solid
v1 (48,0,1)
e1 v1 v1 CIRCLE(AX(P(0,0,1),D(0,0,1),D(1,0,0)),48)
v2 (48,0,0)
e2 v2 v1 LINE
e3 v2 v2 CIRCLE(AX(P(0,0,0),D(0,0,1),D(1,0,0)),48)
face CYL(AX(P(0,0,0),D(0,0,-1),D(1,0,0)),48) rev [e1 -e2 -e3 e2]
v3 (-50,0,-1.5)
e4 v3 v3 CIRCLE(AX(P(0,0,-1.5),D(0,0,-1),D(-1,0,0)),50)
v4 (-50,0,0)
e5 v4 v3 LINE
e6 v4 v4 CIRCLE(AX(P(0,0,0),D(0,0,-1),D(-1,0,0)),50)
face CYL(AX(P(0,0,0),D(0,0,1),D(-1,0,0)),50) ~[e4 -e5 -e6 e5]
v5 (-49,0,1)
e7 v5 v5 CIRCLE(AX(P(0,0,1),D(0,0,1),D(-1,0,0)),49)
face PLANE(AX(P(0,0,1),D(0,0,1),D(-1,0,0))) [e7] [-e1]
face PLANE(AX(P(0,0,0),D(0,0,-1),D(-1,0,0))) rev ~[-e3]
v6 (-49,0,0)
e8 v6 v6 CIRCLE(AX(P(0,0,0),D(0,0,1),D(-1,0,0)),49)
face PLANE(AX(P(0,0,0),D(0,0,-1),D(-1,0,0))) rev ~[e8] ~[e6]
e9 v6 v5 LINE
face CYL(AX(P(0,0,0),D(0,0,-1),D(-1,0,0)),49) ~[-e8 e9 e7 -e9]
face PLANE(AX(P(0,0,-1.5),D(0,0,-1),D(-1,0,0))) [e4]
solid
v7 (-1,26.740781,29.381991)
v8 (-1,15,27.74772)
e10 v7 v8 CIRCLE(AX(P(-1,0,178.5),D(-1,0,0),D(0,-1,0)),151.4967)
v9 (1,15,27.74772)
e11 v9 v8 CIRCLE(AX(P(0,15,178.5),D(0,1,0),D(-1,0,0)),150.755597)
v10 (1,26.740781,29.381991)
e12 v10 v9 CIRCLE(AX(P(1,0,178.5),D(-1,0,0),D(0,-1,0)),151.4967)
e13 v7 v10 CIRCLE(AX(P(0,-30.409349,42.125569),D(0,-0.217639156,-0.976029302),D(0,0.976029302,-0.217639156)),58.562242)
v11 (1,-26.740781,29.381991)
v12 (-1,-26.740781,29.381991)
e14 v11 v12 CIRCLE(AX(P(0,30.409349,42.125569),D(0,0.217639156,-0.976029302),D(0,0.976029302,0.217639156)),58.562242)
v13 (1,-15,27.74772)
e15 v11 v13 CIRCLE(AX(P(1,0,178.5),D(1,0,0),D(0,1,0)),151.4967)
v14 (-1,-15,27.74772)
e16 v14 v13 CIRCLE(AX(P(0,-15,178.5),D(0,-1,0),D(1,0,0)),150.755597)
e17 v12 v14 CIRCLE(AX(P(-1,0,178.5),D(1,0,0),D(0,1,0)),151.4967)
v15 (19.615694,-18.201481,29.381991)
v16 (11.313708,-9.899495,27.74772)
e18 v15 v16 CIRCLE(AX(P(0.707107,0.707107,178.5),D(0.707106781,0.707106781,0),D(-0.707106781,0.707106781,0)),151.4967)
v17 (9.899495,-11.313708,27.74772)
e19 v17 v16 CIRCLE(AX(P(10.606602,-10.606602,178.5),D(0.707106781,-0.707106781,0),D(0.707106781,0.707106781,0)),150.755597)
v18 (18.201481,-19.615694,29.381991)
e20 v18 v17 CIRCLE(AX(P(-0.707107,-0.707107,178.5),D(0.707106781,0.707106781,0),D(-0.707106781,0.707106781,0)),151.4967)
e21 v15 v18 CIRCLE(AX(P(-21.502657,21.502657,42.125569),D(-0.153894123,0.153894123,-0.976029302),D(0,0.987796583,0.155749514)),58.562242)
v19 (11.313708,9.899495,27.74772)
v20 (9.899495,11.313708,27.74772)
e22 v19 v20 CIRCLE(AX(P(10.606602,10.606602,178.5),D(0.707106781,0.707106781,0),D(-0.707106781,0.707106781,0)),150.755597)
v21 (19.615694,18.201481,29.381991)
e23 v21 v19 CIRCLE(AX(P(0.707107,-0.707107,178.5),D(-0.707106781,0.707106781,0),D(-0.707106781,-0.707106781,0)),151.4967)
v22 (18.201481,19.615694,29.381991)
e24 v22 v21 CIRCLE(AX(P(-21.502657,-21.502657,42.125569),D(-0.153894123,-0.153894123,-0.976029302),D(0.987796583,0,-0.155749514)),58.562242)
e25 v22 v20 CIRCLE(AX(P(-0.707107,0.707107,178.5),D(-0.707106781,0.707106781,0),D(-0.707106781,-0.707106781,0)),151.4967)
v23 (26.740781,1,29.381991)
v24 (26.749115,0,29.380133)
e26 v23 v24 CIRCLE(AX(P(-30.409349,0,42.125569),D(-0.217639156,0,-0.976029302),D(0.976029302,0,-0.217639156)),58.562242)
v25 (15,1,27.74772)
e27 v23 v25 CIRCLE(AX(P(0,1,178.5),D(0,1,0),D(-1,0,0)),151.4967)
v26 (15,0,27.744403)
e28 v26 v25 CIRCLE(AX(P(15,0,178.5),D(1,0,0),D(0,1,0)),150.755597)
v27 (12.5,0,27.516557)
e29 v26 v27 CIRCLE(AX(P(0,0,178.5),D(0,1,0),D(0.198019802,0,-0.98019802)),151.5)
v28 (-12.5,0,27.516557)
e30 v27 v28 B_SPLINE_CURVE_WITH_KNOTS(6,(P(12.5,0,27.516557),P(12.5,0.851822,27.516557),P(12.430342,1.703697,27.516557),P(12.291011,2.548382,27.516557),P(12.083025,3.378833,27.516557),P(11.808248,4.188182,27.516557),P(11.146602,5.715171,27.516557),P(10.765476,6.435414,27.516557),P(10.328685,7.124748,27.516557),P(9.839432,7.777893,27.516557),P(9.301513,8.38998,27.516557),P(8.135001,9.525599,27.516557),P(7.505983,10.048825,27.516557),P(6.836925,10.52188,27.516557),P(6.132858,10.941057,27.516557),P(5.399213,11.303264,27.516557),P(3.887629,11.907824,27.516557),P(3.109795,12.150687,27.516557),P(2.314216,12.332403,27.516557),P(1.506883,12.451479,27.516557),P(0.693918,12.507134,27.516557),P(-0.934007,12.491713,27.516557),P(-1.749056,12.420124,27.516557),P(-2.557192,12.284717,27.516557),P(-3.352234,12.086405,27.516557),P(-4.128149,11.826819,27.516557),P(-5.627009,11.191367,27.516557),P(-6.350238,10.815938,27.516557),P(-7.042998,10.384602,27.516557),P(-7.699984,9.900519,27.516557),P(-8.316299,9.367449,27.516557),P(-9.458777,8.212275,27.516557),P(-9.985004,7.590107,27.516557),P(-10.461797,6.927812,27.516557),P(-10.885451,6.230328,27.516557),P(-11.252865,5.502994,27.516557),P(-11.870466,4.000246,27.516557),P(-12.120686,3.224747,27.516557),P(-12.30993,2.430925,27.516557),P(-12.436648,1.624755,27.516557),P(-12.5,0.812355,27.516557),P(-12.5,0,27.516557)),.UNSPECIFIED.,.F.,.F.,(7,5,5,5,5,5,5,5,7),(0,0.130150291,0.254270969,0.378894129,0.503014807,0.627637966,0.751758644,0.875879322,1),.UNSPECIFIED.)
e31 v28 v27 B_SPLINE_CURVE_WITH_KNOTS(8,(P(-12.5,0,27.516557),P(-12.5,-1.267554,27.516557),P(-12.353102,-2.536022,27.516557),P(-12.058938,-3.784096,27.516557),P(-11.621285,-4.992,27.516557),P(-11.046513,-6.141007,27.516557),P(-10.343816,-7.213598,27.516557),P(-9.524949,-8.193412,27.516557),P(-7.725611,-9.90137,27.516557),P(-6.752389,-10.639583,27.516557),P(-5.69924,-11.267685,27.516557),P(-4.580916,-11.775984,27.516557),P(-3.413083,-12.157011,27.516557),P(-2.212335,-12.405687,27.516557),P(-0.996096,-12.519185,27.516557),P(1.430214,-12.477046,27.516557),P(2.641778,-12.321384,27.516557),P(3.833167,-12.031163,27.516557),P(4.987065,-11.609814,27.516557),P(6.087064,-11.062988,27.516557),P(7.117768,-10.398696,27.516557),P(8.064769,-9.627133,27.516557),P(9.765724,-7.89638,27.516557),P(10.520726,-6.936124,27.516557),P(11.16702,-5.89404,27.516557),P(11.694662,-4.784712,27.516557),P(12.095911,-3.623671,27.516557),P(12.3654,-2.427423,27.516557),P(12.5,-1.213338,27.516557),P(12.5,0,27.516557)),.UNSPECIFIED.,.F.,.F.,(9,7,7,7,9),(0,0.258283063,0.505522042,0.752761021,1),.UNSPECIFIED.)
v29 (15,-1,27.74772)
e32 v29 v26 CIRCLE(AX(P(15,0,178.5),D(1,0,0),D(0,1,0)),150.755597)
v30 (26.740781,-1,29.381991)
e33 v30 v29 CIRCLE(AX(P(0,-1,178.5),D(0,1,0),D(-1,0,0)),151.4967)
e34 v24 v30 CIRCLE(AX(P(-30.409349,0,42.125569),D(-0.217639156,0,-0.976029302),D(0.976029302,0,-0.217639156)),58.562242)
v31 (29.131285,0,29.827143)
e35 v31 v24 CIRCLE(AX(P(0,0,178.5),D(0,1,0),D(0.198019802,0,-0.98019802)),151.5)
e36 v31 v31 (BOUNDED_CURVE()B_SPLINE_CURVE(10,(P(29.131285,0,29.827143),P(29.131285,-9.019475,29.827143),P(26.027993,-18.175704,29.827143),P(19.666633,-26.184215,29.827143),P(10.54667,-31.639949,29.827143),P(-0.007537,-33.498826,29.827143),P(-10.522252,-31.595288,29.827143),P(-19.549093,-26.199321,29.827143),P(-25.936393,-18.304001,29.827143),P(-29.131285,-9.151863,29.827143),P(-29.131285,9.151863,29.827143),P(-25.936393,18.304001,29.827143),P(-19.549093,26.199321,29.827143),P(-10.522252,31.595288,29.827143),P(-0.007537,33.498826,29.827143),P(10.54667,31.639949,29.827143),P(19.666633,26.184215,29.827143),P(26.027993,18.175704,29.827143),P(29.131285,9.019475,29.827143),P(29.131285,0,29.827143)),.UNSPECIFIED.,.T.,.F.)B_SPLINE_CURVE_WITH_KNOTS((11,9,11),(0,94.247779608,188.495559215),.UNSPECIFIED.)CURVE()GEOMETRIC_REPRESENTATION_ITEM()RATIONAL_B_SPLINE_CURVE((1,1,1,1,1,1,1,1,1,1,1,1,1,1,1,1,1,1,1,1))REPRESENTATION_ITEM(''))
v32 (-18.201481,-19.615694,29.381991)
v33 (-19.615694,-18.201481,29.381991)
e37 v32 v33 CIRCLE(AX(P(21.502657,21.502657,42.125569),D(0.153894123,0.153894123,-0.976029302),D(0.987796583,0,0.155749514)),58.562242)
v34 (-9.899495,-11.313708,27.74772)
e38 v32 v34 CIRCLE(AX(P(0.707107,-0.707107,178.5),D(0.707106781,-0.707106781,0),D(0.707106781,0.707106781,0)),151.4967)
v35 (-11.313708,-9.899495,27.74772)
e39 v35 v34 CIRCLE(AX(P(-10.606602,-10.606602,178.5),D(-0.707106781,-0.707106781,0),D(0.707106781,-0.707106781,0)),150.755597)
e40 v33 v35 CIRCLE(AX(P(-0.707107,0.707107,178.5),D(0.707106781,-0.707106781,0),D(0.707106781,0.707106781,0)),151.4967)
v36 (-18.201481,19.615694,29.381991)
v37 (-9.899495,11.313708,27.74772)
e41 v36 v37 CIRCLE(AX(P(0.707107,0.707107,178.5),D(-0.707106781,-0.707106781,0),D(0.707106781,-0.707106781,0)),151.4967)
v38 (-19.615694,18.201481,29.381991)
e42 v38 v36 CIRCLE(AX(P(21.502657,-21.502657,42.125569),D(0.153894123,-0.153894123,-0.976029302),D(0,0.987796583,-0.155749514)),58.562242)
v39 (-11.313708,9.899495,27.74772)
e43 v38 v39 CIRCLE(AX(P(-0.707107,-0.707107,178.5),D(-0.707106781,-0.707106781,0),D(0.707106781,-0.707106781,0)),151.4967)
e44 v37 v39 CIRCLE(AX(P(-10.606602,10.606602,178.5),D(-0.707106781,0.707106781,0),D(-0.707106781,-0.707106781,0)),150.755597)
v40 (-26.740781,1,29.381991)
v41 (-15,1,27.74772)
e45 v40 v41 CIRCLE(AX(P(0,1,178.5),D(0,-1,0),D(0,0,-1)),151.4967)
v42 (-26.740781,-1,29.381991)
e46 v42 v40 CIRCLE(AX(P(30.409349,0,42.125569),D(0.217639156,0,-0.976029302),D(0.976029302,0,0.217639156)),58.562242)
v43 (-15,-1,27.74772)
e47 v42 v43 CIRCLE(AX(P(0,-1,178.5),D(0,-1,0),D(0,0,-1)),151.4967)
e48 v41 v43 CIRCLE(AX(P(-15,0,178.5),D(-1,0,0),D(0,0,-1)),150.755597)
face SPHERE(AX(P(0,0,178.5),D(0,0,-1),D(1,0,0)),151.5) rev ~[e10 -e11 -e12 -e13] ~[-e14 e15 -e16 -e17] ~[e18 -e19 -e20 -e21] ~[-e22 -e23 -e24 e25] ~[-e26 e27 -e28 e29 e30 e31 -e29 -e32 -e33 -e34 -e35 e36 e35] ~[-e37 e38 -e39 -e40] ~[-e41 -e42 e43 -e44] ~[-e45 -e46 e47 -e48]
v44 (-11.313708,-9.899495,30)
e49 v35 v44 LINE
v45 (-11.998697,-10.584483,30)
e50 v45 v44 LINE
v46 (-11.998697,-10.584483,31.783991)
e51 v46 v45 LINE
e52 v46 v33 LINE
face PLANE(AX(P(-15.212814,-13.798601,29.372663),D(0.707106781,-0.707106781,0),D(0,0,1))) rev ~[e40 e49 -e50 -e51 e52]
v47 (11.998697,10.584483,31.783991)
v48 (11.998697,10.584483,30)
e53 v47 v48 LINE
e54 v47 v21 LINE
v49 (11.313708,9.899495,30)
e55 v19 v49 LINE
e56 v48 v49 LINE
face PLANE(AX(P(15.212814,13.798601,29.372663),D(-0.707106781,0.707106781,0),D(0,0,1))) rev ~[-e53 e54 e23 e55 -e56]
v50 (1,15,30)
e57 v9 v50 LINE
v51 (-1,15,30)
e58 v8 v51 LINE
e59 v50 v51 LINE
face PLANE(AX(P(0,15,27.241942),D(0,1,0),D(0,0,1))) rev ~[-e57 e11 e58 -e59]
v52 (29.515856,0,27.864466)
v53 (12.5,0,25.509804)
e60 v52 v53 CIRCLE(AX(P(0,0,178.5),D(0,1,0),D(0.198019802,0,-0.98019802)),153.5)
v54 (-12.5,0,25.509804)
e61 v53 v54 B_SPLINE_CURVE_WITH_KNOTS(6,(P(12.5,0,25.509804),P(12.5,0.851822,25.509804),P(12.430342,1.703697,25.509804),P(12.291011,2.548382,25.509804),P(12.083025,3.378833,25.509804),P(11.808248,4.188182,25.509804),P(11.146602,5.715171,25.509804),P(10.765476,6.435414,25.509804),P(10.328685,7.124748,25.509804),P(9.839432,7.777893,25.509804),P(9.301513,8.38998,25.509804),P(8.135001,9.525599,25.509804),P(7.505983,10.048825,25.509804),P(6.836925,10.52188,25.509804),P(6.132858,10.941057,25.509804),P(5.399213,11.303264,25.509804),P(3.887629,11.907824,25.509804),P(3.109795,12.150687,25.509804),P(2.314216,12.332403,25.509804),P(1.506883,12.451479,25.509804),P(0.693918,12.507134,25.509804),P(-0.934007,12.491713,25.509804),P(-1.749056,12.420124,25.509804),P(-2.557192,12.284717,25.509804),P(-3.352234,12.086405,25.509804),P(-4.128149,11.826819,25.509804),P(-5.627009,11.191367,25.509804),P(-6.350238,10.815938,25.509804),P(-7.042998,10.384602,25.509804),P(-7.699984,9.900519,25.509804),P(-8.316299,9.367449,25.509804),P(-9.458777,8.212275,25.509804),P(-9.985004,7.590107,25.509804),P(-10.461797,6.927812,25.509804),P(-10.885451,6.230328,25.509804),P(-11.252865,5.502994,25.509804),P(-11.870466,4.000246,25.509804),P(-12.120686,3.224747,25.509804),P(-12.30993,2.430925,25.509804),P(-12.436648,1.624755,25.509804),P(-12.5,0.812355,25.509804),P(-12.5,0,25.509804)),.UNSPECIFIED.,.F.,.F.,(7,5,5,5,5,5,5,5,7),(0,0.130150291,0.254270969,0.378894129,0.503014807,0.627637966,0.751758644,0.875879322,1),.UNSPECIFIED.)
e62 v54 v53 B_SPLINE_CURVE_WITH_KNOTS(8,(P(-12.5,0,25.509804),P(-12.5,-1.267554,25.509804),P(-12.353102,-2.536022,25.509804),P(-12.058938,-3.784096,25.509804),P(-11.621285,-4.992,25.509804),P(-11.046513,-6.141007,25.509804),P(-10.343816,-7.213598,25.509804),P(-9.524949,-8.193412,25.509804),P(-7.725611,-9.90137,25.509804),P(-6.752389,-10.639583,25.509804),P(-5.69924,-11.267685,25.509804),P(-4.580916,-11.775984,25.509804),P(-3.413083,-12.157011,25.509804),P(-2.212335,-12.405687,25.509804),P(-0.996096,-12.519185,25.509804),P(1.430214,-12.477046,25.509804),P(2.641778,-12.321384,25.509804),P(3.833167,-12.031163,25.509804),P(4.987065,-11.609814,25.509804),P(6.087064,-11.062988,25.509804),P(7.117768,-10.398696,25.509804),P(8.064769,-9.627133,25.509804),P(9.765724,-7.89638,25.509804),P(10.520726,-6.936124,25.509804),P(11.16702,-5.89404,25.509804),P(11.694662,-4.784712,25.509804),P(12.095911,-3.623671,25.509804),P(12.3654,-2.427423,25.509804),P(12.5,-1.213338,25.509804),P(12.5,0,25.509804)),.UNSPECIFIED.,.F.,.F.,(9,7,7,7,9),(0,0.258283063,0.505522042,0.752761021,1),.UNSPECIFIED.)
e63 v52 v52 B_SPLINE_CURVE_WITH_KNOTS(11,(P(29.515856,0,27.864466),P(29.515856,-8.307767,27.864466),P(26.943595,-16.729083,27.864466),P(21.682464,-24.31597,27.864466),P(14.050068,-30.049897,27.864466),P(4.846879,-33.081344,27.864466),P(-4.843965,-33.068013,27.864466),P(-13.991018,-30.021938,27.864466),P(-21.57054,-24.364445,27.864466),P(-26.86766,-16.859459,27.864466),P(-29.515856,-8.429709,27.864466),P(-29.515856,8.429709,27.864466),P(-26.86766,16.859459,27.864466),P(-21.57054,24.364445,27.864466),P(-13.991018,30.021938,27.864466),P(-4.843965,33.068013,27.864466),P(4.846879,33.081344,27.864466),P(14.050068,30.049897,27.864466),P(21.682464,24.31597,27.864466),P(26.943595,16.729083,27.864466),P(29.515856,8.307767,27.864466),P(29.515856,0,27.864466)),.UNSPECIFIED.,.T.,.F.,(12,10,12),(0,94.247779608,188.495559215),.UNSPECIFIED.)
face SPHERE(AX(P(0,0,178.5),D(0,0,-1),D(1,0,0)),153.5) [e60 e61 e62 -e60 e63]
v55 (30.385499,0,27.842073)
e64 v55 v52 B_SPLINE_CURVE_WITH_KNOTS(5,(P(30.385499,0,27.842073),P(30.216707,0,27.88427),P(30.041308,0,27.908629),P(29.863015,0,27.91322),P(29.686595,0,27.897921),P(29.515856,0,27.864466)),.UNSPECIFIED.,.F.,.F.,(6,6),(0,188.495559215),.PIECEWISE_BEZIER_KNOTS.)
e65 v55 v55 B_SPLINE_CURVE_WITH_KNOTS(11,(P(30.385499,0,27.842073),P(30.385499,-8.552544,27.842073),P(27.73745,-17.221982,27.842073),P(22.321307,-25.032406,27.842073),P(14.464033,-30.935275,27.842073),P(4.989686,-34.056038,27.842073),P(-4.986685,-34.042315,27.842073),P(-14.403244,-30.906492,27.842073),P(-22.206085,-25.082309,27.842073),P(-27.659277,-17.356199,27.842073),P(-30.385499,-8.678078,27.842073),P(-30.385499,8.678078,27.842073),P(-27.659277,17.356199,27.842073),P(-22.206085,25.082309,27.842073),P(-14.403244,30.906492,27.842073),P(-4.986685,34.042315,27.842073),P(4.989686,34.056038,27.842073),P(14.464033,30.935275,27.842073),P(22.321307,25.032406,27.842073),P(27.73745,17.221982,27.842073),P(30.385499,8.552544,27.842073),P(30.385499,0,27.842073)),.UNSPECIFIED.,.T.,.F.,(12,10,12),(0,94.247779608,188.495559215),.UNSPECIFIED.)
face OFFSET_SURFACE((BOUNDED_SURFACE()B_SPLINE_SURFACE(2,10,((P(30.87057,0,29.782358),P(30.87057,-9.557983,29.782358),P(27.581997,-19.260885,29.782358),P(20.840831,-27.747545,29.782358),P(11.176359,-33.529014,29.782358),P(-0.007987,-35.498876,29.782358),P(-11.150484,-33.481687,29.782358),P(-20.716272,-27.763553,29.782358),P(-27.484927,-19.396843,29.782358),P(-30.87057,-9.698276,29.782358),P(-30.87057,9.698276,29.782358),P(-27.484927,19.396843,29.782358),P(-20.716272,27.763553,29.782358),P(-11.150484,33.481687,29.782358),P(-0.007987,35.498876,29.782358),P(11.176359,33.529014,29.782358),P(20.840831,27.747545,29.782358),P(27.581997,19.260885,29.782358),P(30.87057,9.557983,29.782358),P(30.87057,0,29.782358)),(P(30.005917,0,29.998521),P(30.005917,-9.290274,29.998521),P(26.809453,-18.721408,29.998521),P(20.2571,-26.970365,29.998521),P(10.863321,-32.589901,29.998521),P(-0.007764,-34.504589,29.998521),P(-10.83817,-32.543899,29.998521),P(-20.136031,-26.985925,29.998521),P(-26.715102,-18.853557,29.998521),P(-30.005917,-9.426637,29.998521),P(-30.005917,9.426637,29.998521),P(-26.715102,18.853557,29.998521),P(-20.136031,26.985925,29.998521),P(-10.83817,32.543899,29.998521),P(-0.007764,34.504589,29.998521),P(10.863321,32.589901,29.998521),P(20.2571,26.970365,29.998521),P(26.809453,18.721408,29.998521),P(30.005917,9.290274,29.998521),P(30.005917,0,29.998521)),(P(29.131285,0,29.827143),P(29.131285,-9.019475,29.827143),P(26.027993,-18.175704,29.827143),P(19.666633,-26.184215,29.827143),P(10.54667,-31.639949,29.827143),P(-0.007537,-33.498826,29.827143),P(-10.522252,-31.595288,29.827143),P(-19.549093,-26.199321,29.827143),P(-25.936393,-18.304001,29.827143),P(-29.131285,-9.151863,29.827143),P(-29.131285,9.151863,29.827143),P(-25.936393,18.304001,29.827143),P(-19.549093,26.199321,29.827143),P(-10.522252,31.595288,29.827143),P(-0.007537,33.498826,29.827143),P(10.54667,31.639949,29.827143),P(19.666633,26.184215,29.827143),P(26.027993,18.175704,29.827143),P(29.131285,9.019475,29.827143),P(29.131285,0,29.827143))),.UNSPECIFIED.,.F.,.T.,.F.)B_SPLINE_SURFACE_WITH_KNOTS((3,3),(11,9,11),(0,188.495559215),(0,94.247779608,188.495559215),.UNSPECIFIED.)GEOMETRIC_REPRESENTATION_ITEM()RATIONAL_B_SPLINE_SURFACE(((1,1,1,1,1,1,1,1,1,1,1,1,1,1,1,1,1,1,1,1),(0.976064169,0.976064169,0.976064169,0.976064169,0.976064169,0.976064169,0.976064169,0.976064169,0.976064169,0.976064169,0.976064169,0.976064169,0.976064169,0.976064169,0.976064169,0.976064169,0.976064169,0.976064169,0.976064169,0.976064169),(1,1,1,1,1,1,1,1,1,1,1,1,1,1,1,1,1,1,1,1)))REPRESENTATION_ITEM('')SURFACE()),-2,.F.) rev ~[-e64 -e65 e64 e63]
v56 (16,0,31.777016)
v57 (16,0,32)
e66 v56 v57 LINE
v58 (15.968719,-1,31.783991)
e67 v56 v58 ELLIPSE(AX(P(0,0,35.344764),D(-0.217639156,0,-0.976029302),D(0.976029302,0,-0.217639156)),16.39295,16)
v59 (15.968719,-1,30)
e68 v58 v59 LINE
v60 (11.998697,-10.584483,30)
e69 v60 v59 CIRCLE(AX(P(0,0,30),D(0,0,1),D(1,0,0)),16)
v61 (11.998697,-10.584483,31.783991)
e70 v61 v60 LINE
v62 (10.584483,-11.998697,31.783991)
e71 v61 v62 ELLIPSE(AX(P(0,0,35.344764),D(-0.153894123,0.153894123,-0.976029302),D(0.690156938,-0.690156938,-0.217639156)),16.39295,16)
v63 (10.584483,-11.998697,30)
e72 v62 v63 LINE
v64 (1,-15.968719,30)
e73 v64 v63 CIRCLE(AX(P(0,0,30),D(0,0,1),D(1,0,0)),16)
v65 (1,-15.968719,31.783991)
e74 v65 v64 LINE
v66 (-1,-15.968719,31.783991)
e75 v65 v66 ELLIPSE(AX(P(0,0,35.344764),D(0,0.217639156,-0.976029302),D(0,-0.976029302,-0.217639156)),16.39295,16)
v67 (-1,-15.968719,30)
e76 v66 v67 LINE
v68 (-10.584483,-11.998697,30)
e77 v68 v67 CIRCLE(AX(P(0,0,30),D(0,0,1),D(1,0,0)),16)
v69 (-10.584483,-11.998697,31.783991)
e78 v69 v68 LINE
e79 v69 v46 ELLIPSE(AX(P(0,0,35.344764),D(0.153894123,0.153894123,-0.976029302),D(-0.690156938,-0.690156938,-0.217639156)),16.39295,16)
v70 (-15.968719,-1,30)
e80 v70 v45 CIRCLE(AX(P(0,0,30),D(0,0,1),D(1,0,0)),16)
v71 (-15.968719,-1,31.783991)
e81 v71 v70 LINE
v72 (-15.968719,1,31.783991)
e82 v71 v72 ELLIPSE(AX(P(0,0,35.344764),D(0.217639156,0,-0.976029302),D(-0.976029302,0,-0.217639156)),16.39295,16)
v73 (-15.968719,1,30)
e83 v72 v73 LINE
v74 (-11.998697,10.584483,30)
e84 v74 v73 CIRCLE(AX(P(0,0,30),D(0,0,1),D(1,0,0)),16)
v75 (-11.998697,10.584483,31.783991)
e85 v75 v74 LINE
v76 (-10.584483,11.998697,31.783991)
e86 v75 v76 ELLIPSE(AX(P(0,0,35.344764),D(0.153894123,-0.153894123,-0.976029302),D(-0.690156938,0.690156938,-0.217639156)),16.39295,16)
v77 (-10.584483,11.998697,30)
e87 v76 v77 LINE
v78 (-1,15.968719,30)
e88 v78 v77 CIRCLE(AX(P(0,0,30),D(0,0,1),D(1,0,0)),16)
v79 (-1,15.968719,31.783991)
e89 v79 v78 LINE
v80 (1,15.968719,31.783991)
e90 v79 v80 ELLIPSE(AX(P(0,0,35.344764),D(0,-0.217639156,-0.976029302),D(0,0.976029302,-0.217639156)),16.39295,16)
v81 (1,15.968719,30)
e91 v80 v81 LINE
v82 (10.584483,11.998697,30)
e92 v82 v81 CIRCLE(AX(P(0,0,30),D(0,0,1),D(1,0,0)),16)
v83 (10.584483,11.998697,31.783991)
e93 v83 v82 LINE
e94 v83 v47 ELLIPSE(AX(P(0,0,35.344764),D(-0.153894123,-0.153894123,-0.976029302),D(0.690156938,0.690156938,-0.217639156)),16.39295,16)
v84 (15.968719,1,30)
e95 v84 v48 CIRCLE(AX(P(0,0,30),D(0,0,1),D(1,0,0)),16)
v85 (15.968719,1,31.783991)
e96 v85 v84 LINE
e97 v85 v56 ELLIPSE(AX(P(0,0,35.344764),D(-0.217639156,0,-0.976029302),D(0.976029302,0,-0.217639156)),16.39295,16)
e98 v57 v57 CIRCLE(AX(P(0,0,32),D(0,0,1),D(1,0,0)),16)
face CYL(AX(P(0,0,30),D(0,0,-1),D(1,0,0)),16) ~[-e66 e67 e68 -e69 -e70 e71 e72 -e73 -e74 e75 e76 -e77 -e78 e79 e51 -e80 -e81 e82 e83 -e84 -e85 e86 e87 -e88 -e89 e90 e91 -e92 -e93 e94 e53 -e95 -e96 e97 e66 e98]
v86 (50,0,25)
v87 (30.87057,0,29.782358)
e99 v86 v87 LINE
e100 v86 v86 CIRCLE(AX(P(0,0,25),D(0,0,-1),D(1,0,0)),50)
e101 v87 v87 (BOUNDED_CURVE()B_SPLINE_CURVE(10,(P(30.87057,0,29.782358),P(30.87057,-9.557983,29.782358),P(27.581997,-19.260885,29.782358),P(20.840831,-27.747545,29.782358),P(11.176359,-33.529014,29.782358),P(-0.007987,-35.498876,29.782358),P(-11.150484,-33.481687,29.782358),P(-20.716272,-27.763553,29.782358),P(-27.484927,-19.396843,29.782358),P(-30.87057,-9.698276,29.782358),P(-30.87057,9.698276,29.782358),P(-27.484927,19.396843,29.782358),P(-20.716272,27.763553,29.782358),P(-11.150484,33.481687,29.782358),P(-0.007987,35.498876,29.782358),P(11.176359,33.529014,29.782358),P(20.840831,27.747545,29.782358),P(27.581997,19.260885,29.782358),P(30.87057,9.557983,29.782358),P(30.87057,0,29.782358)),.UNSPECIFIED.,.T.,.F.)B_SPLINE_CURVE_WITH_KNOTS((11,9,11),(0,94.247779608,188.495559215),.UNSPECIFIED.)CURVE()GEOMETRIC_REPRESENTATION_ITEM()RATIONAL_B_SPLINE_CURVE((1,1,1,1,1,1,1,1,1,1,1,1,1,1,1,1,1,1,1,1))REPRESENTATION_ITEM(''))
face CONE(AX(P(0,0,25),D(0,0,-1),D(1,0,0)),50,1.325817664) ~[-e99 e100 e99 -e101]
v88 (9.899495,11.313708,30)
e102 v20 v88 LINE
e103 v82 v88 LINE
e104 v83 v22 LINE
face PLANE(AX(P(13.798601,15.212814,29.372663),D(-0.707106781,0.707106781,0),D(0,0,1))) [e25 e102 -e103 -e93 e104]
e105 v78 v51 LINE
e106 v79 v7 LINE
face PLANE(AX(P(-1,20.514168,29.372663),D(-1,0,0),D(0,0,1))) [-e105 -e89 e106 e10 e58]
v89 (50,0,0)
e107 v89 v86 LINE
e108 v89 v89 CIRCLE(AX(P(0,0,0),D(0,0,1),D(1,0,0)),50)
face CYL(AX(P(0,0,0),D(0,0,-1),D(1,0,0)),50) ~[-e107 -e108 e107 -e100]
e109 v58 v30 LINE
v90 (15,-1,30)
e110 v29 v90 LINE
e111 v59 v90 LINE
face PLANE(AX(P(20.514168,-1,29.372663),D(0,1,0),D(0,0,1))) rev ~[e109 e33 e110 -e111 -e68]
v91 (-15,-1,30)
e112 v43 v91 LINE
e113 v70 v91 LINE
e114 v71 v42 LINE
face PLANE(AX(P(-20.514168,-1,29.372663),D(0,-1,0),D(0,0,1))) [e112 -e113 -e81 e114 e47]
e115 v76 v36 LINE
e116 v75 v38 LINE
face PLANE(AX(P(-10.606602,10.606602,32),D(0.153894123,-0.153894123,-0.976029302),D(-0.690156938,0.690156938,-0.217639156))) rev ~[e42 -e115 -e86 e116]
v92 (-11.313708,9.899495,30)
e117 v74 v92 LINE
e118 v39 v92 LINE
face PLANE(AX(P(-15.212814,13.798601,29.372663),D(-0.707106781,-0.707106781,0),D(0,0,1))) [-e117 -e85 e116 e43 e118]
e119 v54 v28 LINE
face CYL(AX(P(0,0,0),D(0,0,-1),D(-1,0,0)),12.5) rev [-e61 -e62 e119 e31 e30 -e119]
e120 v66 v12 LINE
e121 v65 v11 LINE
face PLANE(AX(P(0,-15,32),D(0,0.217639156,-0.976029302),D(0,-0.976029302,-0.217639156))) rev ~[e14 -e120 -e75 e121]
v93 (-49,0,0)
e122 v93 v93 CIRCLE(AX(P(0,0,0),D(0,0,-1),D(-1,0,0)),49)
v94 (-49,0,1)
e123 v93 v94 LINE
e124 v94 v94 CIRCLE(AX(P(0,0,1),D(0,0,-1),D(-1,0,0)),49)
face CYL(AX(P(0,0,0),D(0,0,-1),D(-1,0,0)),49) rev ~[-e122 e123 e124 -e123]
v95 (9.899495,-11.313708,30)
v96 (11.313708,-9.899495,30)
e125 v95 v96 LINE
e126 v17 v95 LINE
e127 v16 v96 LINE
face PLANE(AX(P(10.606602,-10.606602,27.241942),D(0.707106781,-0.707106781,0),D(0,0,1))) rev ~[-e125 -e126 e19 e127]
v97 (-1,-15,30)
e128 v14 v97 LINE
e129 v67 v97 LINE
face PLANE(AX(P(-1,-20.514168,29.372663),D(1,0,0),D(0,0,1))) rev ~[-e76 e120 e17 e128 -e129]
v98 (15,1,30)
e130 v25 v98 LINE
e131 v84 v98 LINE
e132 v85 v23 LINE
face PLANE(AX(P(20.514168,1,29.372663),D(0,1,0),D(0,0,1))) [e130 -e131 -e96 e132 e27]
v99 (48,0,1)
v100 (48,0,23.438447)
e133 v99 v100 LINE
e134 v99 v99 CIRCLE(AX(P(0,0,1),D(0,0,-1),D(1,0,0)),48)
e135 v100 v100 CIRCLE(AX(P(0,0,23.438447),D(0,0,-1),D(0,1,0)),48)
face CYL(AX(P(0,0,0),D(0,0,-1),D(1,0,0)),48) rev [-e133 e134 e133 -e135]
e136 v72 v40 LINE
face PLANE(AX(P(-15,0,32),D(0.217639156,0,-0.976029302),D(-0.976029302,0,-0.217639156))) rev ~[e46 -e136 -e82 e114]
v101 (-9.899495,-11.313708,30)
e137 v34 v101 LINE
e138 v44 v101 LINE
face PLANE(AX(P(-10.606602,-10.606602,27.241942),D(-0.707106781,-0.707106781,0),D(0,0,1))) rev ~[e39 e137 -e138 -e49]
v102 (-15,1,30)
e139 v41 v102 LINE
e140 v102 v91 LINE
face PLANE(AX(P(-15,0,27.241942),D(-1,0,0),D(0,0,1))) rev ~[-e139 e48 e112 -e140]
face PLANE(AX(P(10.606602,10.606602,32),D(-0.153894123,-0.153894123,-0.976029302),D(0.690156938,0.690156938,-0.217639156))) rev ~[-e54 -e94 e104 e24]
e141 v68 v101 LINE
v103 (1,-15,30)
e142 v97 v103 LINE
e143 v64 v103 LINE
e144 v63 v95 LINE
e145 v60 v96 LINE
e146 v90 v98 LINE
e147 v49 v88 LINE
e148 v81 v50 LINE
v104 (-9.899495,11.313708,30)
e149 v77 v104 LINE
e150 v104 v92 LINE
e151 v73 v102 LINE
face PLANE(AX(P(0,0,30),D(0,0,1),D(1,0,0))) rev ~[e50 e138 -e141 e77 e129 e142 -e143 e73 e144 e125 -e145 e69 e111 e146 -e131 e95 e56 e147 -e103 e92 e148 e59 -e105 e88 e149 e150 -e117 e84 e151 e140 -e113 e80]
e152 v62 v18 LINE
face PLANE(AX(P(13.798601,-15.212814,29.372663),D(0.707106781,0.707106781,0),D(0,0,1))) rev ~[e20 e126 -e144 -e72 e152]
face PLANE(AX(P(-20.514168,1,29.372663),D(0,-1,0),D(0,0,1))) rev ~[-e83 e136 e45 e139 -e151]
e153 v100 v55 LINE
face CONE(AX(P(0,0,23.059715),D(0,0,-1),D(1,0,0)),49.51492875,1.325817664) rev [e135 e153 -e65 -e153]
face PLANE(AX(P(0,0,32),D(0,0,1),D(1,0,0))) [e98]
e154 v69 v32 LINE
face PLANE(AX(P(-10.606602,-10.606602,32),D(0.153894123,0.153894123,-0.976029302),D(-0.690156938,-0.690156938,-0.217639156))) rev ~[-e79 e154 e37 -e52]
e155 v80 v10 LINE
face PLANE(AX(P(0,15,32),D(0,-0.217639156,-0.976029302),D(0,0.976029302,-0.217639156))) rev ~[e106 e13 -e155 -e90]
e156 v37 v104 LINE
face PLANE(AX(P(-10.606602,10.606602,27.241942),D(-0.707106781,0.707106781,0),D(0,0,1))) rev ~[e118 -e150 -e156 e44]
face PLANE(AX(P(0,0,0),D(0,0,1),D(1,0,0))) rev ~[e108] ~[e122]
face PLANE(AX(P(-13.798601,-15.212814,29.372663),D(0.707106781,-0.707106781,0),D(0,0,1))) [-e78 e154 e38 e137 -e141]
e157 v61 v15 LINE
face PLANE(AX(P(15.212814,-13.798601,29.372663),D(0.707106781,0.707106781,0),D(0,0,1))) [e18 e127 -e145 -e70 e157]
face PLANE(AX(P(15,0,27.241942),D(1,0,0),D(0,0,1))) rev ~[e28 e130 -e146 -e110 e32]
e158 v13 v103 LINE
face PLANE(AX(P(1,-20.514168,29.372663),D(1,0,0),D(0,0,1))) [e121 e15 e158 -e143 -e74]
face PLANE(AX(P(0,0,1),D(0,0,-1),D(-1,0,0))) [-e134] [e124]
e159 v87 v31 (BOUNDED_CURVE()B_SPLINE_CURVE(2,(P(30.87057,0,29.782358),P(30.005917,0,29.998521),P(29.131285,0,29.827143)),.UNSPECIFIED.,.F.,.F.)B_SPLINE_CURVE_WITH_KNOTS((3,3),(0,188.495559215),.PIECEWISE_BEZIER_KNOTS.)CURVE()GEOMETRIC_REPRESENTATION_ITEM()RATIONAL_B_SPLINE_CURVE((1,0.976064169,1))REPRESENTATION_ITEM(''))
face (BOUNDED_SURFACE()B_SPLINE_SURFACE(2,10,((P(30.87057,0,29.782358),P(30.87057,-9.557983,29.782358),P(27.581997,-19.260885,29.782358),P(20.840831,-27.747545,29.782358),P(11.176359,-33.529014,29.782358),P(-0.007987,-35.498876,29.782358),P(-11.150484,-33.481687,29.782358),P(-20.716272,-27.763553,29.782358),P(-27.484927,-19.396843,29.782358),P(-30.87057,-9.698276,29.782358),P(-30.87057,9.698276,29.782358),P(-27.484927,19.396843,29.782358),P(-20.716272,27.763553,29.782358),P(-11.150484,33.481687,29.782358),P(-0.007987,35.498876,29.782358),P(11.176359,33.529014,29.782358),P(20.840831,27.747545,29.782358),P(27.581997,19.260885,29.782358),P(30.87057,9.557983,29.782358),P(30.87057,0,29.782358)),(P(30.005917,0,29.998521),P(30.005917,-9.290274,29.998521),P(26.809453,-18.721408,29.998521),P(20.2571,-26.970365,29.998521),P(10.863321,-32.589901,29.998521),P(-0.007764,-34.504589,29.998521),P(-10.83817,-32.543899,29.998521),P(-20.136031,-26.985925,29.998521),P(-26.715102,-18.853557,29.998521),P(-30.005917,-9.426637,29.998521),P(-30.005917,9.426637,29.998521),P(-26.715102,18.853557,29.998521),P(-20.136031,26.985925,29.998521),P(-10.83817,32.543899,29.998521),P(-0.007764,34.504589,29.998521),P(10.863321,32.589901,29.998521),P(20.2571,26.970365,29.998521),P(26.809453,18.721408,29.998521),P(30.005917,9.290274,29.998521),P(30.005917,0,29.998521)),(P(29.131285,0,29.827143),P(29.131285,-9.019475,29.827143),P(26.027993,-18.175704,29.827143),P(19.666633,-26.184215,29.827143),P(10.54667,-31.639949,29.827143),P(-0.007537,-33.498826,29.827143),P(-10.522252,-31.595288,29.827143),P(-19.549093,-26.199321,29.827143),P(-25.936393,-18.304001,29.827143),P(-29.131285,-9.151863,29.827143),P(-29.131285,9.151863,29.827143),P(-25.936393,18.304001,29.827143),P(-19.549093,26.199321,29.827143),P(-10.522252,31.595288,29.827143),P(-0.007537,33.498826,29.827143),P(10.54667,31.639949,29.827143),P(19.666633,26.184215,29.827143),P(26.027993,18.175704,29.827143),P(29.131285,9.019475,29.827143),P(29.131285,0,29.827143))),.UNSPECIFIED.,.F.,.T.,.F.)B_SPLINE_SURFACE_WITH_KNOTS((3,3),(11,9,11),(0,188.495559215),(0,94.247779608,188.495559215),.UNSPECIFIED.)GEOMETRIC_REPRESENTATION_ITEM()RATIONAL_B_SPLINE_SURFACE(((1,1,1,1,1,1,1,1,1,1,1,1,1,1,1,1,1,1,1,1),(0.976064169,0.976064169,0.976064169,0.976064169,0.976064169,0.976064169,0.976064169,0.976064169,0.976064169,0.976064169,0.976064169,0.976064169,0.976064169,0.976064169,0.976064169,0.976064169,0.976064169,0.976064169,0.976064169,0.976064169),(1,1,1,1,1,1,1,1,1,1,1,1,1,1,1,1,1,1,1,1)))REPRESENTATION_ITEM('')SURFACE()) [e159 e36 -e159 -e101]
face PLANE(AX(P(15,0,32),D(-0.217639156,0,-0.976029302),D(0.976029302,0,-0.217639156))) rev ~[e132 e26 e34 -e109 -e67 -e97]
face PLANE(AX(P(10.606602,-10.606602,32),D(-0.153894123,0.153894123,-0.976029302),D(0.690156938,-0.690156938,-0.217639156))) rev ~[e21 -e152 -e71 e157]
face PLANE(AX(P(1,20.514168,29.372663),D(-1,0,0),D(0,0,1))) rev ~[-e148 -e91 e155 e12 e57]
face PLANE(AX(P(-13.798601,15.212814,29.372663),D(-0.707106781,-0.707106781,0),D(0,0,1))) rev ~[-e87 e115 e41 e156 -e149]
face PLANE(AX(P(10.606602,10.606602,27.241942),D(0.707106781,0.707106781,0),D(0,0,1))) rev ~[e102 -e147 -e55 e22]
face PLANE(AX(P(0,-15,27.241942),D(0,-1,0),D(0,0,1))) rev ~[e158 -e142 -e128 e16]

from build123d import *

# Parameters (mm, degrees)
SKETCH1_R           = 50
BOSS_EXTRUDE1_DEPTH = 30
FILLET1_R           = 4
SHELL1_T            = -2
SKETCH3_R           = 12.5
CUT_EXTRUDE1_DEPTH  = 77.773152366
SKETCH4_R           = 15
BOSS_EXTRUDE2_DEPTH = 2
BOSS_EXTRUDE3_DEPTH = 1
CIRPATTERN1_COUNT   = 8
SKETCH7_R           = 49
SKETCH7_R_2         = 48
CUT_EXTRUDE2_DEPTH  = 1
SKETCH8_R           = 50
BOSS_EXTRUDE4_DEPTH = 1.5
SKETCH9_R           = 49
SKETCH9_R_2         = 48
BOSS_EXTRUDE5_DEPTH = 1
MOVE_FACE1_BY       = 1


with BuildPart() as part:
    # Sketch1 → Boss-Extrude1 (new body)
    with BuildSketch(Plane.XY):
        Circle(SKETCH1_R)
    extrude(amount=BOSS_EXTRUDE1_DEPTH)

    # Sketch2 → Cut-Revolve1 (revolve, cut)
    with BuildSketch(Plane(origin=(0, 0, 0), x_dir=(1, 0, 0), z_dir=(0, 1, 0))):
        with BuildLine():
            Line((-50, -25), (-30, -30))
            ThreePointArc((-30, -30), (-15.074813432, -27.751865683), (0, -27))
            Line((0, -27), (0, -49.365581707))
            Line((0, -49.365581707), (-56.685327812, -49.365581707))
            Line((-56.685327812, -49.365581707), (-56.685327812, -25))
            Line((-56.685327812, -25), (-50, -25))
        make_face()
    revolve(axis=Axis((0, 0, 49.365581707), (0, 0, -1)), mode=Mode.SUBTRACT)

    # Fillet1
    fillet1_edges = [part.edges().sort_by_distance(p)[0] for p in [
        (30, 0, 30),
    ]]
    fillet(fillet1_edges, radius=FILLET1_R)

    # Shell1
    shell1_openings = [part.faces().sort_by_distance(p)[0] for p in [
        (0, 0, 0),
    ]]
    offset(amount=SHELL1_T, openings=shell1_openings)

    # Sketch3 → Cut-Extrude1 (cut, through all)
    with BuildSketch(Plane.XY):
        Circle(SKETCH3_R)
    extrude(amount=CUT_EXTRUDE1_DEPTH, mode=Mode.SUBTRACT)

    # Sketch5 → Boss-Extrude3 (add, symmetric)
    with BuildSketch(Plane(origin=(0, 0, 0), x_dir=(0, 0, -1), z_dir=(0, 1, 0))):
        with BuildLine():
            Line((-32, 15), (-29.101204824, 28))
            ThreePointArc((-29.101204824, 28), (-28.031113562, 21.52008862), (-27.241942363, 15))
            Line((-27.241942363, 15), (-32, 15))
        make_face()
    boss_extrude3 = extrude(amount=BOSS_EXTRUDE3_DEPTH, both=True)

    # CirPattern1: Boss-Extrude3 ×8 about axis
    cirpattern1_axis = Axis((0, 0, 32), (0, 0, -1))
    for i in range(1, CIRPATTERN1_COUNT):
        add(boss_extrude3.rotate(cirpattern1_axis, i * 360 / CIRPATTERN1_COUNT))

    # Sketch7 → Cut-Extrude2 (cut)
    with BuildSketch(Plane(origin=(0, 0, 0), x_dir=(-1, 0, 0), z_dir=(0, 0, -1))):
        Circle(SKETCH7_R)
        Circle(SKETCH7_R_2, mode=Mode.SUBTRACT)
    extrude(amount=-CUT_EXTRUDE2_DEPTH, mode=Mode.SUBTRACT)


with BuildPart() as body_2:
    # Sketch4 → Boss-Extrude2 (new body)
    with BuildSketch(Plane.XY.offset(30)):
        Circle(SKETCH4_R)
    extrude(amount=BOSS_EXTRUDE2_DEPTH)

    # Move Face1: a curved face moved outward by 1.0
    add(Solid.thicken(body_2.faces().sort_by_distance((-15, 0, 31))[0], MOVE_FACE1_BY))

    # Combine2: union part
    add(part.part)


with BuildPart() as body_3:
    # Sketch8 → Boss-Extrude4 (new body)
    with BuildSketch(Plane(origin=(0, 0, 0), x_dir=(-1, 0, 0), z_dir=(0, 0, -1))):
        Circle(SKETCH8_R)
    extrude(amount=BOSS_EXTRUDE4_DEPTH)

    # Sketch9 → Boss-Extrude5 (add)
    with BuildSketch(Plane.XY):
        Circle(SKETCH9_R)
        Circle(SKETCH9_R_2, mode=Mode.SUBTRACT)
    extrude(amount=BOSS_EXTRUDE5_DEPTH)


solid = Compound([body_2.part, body_3.part])
